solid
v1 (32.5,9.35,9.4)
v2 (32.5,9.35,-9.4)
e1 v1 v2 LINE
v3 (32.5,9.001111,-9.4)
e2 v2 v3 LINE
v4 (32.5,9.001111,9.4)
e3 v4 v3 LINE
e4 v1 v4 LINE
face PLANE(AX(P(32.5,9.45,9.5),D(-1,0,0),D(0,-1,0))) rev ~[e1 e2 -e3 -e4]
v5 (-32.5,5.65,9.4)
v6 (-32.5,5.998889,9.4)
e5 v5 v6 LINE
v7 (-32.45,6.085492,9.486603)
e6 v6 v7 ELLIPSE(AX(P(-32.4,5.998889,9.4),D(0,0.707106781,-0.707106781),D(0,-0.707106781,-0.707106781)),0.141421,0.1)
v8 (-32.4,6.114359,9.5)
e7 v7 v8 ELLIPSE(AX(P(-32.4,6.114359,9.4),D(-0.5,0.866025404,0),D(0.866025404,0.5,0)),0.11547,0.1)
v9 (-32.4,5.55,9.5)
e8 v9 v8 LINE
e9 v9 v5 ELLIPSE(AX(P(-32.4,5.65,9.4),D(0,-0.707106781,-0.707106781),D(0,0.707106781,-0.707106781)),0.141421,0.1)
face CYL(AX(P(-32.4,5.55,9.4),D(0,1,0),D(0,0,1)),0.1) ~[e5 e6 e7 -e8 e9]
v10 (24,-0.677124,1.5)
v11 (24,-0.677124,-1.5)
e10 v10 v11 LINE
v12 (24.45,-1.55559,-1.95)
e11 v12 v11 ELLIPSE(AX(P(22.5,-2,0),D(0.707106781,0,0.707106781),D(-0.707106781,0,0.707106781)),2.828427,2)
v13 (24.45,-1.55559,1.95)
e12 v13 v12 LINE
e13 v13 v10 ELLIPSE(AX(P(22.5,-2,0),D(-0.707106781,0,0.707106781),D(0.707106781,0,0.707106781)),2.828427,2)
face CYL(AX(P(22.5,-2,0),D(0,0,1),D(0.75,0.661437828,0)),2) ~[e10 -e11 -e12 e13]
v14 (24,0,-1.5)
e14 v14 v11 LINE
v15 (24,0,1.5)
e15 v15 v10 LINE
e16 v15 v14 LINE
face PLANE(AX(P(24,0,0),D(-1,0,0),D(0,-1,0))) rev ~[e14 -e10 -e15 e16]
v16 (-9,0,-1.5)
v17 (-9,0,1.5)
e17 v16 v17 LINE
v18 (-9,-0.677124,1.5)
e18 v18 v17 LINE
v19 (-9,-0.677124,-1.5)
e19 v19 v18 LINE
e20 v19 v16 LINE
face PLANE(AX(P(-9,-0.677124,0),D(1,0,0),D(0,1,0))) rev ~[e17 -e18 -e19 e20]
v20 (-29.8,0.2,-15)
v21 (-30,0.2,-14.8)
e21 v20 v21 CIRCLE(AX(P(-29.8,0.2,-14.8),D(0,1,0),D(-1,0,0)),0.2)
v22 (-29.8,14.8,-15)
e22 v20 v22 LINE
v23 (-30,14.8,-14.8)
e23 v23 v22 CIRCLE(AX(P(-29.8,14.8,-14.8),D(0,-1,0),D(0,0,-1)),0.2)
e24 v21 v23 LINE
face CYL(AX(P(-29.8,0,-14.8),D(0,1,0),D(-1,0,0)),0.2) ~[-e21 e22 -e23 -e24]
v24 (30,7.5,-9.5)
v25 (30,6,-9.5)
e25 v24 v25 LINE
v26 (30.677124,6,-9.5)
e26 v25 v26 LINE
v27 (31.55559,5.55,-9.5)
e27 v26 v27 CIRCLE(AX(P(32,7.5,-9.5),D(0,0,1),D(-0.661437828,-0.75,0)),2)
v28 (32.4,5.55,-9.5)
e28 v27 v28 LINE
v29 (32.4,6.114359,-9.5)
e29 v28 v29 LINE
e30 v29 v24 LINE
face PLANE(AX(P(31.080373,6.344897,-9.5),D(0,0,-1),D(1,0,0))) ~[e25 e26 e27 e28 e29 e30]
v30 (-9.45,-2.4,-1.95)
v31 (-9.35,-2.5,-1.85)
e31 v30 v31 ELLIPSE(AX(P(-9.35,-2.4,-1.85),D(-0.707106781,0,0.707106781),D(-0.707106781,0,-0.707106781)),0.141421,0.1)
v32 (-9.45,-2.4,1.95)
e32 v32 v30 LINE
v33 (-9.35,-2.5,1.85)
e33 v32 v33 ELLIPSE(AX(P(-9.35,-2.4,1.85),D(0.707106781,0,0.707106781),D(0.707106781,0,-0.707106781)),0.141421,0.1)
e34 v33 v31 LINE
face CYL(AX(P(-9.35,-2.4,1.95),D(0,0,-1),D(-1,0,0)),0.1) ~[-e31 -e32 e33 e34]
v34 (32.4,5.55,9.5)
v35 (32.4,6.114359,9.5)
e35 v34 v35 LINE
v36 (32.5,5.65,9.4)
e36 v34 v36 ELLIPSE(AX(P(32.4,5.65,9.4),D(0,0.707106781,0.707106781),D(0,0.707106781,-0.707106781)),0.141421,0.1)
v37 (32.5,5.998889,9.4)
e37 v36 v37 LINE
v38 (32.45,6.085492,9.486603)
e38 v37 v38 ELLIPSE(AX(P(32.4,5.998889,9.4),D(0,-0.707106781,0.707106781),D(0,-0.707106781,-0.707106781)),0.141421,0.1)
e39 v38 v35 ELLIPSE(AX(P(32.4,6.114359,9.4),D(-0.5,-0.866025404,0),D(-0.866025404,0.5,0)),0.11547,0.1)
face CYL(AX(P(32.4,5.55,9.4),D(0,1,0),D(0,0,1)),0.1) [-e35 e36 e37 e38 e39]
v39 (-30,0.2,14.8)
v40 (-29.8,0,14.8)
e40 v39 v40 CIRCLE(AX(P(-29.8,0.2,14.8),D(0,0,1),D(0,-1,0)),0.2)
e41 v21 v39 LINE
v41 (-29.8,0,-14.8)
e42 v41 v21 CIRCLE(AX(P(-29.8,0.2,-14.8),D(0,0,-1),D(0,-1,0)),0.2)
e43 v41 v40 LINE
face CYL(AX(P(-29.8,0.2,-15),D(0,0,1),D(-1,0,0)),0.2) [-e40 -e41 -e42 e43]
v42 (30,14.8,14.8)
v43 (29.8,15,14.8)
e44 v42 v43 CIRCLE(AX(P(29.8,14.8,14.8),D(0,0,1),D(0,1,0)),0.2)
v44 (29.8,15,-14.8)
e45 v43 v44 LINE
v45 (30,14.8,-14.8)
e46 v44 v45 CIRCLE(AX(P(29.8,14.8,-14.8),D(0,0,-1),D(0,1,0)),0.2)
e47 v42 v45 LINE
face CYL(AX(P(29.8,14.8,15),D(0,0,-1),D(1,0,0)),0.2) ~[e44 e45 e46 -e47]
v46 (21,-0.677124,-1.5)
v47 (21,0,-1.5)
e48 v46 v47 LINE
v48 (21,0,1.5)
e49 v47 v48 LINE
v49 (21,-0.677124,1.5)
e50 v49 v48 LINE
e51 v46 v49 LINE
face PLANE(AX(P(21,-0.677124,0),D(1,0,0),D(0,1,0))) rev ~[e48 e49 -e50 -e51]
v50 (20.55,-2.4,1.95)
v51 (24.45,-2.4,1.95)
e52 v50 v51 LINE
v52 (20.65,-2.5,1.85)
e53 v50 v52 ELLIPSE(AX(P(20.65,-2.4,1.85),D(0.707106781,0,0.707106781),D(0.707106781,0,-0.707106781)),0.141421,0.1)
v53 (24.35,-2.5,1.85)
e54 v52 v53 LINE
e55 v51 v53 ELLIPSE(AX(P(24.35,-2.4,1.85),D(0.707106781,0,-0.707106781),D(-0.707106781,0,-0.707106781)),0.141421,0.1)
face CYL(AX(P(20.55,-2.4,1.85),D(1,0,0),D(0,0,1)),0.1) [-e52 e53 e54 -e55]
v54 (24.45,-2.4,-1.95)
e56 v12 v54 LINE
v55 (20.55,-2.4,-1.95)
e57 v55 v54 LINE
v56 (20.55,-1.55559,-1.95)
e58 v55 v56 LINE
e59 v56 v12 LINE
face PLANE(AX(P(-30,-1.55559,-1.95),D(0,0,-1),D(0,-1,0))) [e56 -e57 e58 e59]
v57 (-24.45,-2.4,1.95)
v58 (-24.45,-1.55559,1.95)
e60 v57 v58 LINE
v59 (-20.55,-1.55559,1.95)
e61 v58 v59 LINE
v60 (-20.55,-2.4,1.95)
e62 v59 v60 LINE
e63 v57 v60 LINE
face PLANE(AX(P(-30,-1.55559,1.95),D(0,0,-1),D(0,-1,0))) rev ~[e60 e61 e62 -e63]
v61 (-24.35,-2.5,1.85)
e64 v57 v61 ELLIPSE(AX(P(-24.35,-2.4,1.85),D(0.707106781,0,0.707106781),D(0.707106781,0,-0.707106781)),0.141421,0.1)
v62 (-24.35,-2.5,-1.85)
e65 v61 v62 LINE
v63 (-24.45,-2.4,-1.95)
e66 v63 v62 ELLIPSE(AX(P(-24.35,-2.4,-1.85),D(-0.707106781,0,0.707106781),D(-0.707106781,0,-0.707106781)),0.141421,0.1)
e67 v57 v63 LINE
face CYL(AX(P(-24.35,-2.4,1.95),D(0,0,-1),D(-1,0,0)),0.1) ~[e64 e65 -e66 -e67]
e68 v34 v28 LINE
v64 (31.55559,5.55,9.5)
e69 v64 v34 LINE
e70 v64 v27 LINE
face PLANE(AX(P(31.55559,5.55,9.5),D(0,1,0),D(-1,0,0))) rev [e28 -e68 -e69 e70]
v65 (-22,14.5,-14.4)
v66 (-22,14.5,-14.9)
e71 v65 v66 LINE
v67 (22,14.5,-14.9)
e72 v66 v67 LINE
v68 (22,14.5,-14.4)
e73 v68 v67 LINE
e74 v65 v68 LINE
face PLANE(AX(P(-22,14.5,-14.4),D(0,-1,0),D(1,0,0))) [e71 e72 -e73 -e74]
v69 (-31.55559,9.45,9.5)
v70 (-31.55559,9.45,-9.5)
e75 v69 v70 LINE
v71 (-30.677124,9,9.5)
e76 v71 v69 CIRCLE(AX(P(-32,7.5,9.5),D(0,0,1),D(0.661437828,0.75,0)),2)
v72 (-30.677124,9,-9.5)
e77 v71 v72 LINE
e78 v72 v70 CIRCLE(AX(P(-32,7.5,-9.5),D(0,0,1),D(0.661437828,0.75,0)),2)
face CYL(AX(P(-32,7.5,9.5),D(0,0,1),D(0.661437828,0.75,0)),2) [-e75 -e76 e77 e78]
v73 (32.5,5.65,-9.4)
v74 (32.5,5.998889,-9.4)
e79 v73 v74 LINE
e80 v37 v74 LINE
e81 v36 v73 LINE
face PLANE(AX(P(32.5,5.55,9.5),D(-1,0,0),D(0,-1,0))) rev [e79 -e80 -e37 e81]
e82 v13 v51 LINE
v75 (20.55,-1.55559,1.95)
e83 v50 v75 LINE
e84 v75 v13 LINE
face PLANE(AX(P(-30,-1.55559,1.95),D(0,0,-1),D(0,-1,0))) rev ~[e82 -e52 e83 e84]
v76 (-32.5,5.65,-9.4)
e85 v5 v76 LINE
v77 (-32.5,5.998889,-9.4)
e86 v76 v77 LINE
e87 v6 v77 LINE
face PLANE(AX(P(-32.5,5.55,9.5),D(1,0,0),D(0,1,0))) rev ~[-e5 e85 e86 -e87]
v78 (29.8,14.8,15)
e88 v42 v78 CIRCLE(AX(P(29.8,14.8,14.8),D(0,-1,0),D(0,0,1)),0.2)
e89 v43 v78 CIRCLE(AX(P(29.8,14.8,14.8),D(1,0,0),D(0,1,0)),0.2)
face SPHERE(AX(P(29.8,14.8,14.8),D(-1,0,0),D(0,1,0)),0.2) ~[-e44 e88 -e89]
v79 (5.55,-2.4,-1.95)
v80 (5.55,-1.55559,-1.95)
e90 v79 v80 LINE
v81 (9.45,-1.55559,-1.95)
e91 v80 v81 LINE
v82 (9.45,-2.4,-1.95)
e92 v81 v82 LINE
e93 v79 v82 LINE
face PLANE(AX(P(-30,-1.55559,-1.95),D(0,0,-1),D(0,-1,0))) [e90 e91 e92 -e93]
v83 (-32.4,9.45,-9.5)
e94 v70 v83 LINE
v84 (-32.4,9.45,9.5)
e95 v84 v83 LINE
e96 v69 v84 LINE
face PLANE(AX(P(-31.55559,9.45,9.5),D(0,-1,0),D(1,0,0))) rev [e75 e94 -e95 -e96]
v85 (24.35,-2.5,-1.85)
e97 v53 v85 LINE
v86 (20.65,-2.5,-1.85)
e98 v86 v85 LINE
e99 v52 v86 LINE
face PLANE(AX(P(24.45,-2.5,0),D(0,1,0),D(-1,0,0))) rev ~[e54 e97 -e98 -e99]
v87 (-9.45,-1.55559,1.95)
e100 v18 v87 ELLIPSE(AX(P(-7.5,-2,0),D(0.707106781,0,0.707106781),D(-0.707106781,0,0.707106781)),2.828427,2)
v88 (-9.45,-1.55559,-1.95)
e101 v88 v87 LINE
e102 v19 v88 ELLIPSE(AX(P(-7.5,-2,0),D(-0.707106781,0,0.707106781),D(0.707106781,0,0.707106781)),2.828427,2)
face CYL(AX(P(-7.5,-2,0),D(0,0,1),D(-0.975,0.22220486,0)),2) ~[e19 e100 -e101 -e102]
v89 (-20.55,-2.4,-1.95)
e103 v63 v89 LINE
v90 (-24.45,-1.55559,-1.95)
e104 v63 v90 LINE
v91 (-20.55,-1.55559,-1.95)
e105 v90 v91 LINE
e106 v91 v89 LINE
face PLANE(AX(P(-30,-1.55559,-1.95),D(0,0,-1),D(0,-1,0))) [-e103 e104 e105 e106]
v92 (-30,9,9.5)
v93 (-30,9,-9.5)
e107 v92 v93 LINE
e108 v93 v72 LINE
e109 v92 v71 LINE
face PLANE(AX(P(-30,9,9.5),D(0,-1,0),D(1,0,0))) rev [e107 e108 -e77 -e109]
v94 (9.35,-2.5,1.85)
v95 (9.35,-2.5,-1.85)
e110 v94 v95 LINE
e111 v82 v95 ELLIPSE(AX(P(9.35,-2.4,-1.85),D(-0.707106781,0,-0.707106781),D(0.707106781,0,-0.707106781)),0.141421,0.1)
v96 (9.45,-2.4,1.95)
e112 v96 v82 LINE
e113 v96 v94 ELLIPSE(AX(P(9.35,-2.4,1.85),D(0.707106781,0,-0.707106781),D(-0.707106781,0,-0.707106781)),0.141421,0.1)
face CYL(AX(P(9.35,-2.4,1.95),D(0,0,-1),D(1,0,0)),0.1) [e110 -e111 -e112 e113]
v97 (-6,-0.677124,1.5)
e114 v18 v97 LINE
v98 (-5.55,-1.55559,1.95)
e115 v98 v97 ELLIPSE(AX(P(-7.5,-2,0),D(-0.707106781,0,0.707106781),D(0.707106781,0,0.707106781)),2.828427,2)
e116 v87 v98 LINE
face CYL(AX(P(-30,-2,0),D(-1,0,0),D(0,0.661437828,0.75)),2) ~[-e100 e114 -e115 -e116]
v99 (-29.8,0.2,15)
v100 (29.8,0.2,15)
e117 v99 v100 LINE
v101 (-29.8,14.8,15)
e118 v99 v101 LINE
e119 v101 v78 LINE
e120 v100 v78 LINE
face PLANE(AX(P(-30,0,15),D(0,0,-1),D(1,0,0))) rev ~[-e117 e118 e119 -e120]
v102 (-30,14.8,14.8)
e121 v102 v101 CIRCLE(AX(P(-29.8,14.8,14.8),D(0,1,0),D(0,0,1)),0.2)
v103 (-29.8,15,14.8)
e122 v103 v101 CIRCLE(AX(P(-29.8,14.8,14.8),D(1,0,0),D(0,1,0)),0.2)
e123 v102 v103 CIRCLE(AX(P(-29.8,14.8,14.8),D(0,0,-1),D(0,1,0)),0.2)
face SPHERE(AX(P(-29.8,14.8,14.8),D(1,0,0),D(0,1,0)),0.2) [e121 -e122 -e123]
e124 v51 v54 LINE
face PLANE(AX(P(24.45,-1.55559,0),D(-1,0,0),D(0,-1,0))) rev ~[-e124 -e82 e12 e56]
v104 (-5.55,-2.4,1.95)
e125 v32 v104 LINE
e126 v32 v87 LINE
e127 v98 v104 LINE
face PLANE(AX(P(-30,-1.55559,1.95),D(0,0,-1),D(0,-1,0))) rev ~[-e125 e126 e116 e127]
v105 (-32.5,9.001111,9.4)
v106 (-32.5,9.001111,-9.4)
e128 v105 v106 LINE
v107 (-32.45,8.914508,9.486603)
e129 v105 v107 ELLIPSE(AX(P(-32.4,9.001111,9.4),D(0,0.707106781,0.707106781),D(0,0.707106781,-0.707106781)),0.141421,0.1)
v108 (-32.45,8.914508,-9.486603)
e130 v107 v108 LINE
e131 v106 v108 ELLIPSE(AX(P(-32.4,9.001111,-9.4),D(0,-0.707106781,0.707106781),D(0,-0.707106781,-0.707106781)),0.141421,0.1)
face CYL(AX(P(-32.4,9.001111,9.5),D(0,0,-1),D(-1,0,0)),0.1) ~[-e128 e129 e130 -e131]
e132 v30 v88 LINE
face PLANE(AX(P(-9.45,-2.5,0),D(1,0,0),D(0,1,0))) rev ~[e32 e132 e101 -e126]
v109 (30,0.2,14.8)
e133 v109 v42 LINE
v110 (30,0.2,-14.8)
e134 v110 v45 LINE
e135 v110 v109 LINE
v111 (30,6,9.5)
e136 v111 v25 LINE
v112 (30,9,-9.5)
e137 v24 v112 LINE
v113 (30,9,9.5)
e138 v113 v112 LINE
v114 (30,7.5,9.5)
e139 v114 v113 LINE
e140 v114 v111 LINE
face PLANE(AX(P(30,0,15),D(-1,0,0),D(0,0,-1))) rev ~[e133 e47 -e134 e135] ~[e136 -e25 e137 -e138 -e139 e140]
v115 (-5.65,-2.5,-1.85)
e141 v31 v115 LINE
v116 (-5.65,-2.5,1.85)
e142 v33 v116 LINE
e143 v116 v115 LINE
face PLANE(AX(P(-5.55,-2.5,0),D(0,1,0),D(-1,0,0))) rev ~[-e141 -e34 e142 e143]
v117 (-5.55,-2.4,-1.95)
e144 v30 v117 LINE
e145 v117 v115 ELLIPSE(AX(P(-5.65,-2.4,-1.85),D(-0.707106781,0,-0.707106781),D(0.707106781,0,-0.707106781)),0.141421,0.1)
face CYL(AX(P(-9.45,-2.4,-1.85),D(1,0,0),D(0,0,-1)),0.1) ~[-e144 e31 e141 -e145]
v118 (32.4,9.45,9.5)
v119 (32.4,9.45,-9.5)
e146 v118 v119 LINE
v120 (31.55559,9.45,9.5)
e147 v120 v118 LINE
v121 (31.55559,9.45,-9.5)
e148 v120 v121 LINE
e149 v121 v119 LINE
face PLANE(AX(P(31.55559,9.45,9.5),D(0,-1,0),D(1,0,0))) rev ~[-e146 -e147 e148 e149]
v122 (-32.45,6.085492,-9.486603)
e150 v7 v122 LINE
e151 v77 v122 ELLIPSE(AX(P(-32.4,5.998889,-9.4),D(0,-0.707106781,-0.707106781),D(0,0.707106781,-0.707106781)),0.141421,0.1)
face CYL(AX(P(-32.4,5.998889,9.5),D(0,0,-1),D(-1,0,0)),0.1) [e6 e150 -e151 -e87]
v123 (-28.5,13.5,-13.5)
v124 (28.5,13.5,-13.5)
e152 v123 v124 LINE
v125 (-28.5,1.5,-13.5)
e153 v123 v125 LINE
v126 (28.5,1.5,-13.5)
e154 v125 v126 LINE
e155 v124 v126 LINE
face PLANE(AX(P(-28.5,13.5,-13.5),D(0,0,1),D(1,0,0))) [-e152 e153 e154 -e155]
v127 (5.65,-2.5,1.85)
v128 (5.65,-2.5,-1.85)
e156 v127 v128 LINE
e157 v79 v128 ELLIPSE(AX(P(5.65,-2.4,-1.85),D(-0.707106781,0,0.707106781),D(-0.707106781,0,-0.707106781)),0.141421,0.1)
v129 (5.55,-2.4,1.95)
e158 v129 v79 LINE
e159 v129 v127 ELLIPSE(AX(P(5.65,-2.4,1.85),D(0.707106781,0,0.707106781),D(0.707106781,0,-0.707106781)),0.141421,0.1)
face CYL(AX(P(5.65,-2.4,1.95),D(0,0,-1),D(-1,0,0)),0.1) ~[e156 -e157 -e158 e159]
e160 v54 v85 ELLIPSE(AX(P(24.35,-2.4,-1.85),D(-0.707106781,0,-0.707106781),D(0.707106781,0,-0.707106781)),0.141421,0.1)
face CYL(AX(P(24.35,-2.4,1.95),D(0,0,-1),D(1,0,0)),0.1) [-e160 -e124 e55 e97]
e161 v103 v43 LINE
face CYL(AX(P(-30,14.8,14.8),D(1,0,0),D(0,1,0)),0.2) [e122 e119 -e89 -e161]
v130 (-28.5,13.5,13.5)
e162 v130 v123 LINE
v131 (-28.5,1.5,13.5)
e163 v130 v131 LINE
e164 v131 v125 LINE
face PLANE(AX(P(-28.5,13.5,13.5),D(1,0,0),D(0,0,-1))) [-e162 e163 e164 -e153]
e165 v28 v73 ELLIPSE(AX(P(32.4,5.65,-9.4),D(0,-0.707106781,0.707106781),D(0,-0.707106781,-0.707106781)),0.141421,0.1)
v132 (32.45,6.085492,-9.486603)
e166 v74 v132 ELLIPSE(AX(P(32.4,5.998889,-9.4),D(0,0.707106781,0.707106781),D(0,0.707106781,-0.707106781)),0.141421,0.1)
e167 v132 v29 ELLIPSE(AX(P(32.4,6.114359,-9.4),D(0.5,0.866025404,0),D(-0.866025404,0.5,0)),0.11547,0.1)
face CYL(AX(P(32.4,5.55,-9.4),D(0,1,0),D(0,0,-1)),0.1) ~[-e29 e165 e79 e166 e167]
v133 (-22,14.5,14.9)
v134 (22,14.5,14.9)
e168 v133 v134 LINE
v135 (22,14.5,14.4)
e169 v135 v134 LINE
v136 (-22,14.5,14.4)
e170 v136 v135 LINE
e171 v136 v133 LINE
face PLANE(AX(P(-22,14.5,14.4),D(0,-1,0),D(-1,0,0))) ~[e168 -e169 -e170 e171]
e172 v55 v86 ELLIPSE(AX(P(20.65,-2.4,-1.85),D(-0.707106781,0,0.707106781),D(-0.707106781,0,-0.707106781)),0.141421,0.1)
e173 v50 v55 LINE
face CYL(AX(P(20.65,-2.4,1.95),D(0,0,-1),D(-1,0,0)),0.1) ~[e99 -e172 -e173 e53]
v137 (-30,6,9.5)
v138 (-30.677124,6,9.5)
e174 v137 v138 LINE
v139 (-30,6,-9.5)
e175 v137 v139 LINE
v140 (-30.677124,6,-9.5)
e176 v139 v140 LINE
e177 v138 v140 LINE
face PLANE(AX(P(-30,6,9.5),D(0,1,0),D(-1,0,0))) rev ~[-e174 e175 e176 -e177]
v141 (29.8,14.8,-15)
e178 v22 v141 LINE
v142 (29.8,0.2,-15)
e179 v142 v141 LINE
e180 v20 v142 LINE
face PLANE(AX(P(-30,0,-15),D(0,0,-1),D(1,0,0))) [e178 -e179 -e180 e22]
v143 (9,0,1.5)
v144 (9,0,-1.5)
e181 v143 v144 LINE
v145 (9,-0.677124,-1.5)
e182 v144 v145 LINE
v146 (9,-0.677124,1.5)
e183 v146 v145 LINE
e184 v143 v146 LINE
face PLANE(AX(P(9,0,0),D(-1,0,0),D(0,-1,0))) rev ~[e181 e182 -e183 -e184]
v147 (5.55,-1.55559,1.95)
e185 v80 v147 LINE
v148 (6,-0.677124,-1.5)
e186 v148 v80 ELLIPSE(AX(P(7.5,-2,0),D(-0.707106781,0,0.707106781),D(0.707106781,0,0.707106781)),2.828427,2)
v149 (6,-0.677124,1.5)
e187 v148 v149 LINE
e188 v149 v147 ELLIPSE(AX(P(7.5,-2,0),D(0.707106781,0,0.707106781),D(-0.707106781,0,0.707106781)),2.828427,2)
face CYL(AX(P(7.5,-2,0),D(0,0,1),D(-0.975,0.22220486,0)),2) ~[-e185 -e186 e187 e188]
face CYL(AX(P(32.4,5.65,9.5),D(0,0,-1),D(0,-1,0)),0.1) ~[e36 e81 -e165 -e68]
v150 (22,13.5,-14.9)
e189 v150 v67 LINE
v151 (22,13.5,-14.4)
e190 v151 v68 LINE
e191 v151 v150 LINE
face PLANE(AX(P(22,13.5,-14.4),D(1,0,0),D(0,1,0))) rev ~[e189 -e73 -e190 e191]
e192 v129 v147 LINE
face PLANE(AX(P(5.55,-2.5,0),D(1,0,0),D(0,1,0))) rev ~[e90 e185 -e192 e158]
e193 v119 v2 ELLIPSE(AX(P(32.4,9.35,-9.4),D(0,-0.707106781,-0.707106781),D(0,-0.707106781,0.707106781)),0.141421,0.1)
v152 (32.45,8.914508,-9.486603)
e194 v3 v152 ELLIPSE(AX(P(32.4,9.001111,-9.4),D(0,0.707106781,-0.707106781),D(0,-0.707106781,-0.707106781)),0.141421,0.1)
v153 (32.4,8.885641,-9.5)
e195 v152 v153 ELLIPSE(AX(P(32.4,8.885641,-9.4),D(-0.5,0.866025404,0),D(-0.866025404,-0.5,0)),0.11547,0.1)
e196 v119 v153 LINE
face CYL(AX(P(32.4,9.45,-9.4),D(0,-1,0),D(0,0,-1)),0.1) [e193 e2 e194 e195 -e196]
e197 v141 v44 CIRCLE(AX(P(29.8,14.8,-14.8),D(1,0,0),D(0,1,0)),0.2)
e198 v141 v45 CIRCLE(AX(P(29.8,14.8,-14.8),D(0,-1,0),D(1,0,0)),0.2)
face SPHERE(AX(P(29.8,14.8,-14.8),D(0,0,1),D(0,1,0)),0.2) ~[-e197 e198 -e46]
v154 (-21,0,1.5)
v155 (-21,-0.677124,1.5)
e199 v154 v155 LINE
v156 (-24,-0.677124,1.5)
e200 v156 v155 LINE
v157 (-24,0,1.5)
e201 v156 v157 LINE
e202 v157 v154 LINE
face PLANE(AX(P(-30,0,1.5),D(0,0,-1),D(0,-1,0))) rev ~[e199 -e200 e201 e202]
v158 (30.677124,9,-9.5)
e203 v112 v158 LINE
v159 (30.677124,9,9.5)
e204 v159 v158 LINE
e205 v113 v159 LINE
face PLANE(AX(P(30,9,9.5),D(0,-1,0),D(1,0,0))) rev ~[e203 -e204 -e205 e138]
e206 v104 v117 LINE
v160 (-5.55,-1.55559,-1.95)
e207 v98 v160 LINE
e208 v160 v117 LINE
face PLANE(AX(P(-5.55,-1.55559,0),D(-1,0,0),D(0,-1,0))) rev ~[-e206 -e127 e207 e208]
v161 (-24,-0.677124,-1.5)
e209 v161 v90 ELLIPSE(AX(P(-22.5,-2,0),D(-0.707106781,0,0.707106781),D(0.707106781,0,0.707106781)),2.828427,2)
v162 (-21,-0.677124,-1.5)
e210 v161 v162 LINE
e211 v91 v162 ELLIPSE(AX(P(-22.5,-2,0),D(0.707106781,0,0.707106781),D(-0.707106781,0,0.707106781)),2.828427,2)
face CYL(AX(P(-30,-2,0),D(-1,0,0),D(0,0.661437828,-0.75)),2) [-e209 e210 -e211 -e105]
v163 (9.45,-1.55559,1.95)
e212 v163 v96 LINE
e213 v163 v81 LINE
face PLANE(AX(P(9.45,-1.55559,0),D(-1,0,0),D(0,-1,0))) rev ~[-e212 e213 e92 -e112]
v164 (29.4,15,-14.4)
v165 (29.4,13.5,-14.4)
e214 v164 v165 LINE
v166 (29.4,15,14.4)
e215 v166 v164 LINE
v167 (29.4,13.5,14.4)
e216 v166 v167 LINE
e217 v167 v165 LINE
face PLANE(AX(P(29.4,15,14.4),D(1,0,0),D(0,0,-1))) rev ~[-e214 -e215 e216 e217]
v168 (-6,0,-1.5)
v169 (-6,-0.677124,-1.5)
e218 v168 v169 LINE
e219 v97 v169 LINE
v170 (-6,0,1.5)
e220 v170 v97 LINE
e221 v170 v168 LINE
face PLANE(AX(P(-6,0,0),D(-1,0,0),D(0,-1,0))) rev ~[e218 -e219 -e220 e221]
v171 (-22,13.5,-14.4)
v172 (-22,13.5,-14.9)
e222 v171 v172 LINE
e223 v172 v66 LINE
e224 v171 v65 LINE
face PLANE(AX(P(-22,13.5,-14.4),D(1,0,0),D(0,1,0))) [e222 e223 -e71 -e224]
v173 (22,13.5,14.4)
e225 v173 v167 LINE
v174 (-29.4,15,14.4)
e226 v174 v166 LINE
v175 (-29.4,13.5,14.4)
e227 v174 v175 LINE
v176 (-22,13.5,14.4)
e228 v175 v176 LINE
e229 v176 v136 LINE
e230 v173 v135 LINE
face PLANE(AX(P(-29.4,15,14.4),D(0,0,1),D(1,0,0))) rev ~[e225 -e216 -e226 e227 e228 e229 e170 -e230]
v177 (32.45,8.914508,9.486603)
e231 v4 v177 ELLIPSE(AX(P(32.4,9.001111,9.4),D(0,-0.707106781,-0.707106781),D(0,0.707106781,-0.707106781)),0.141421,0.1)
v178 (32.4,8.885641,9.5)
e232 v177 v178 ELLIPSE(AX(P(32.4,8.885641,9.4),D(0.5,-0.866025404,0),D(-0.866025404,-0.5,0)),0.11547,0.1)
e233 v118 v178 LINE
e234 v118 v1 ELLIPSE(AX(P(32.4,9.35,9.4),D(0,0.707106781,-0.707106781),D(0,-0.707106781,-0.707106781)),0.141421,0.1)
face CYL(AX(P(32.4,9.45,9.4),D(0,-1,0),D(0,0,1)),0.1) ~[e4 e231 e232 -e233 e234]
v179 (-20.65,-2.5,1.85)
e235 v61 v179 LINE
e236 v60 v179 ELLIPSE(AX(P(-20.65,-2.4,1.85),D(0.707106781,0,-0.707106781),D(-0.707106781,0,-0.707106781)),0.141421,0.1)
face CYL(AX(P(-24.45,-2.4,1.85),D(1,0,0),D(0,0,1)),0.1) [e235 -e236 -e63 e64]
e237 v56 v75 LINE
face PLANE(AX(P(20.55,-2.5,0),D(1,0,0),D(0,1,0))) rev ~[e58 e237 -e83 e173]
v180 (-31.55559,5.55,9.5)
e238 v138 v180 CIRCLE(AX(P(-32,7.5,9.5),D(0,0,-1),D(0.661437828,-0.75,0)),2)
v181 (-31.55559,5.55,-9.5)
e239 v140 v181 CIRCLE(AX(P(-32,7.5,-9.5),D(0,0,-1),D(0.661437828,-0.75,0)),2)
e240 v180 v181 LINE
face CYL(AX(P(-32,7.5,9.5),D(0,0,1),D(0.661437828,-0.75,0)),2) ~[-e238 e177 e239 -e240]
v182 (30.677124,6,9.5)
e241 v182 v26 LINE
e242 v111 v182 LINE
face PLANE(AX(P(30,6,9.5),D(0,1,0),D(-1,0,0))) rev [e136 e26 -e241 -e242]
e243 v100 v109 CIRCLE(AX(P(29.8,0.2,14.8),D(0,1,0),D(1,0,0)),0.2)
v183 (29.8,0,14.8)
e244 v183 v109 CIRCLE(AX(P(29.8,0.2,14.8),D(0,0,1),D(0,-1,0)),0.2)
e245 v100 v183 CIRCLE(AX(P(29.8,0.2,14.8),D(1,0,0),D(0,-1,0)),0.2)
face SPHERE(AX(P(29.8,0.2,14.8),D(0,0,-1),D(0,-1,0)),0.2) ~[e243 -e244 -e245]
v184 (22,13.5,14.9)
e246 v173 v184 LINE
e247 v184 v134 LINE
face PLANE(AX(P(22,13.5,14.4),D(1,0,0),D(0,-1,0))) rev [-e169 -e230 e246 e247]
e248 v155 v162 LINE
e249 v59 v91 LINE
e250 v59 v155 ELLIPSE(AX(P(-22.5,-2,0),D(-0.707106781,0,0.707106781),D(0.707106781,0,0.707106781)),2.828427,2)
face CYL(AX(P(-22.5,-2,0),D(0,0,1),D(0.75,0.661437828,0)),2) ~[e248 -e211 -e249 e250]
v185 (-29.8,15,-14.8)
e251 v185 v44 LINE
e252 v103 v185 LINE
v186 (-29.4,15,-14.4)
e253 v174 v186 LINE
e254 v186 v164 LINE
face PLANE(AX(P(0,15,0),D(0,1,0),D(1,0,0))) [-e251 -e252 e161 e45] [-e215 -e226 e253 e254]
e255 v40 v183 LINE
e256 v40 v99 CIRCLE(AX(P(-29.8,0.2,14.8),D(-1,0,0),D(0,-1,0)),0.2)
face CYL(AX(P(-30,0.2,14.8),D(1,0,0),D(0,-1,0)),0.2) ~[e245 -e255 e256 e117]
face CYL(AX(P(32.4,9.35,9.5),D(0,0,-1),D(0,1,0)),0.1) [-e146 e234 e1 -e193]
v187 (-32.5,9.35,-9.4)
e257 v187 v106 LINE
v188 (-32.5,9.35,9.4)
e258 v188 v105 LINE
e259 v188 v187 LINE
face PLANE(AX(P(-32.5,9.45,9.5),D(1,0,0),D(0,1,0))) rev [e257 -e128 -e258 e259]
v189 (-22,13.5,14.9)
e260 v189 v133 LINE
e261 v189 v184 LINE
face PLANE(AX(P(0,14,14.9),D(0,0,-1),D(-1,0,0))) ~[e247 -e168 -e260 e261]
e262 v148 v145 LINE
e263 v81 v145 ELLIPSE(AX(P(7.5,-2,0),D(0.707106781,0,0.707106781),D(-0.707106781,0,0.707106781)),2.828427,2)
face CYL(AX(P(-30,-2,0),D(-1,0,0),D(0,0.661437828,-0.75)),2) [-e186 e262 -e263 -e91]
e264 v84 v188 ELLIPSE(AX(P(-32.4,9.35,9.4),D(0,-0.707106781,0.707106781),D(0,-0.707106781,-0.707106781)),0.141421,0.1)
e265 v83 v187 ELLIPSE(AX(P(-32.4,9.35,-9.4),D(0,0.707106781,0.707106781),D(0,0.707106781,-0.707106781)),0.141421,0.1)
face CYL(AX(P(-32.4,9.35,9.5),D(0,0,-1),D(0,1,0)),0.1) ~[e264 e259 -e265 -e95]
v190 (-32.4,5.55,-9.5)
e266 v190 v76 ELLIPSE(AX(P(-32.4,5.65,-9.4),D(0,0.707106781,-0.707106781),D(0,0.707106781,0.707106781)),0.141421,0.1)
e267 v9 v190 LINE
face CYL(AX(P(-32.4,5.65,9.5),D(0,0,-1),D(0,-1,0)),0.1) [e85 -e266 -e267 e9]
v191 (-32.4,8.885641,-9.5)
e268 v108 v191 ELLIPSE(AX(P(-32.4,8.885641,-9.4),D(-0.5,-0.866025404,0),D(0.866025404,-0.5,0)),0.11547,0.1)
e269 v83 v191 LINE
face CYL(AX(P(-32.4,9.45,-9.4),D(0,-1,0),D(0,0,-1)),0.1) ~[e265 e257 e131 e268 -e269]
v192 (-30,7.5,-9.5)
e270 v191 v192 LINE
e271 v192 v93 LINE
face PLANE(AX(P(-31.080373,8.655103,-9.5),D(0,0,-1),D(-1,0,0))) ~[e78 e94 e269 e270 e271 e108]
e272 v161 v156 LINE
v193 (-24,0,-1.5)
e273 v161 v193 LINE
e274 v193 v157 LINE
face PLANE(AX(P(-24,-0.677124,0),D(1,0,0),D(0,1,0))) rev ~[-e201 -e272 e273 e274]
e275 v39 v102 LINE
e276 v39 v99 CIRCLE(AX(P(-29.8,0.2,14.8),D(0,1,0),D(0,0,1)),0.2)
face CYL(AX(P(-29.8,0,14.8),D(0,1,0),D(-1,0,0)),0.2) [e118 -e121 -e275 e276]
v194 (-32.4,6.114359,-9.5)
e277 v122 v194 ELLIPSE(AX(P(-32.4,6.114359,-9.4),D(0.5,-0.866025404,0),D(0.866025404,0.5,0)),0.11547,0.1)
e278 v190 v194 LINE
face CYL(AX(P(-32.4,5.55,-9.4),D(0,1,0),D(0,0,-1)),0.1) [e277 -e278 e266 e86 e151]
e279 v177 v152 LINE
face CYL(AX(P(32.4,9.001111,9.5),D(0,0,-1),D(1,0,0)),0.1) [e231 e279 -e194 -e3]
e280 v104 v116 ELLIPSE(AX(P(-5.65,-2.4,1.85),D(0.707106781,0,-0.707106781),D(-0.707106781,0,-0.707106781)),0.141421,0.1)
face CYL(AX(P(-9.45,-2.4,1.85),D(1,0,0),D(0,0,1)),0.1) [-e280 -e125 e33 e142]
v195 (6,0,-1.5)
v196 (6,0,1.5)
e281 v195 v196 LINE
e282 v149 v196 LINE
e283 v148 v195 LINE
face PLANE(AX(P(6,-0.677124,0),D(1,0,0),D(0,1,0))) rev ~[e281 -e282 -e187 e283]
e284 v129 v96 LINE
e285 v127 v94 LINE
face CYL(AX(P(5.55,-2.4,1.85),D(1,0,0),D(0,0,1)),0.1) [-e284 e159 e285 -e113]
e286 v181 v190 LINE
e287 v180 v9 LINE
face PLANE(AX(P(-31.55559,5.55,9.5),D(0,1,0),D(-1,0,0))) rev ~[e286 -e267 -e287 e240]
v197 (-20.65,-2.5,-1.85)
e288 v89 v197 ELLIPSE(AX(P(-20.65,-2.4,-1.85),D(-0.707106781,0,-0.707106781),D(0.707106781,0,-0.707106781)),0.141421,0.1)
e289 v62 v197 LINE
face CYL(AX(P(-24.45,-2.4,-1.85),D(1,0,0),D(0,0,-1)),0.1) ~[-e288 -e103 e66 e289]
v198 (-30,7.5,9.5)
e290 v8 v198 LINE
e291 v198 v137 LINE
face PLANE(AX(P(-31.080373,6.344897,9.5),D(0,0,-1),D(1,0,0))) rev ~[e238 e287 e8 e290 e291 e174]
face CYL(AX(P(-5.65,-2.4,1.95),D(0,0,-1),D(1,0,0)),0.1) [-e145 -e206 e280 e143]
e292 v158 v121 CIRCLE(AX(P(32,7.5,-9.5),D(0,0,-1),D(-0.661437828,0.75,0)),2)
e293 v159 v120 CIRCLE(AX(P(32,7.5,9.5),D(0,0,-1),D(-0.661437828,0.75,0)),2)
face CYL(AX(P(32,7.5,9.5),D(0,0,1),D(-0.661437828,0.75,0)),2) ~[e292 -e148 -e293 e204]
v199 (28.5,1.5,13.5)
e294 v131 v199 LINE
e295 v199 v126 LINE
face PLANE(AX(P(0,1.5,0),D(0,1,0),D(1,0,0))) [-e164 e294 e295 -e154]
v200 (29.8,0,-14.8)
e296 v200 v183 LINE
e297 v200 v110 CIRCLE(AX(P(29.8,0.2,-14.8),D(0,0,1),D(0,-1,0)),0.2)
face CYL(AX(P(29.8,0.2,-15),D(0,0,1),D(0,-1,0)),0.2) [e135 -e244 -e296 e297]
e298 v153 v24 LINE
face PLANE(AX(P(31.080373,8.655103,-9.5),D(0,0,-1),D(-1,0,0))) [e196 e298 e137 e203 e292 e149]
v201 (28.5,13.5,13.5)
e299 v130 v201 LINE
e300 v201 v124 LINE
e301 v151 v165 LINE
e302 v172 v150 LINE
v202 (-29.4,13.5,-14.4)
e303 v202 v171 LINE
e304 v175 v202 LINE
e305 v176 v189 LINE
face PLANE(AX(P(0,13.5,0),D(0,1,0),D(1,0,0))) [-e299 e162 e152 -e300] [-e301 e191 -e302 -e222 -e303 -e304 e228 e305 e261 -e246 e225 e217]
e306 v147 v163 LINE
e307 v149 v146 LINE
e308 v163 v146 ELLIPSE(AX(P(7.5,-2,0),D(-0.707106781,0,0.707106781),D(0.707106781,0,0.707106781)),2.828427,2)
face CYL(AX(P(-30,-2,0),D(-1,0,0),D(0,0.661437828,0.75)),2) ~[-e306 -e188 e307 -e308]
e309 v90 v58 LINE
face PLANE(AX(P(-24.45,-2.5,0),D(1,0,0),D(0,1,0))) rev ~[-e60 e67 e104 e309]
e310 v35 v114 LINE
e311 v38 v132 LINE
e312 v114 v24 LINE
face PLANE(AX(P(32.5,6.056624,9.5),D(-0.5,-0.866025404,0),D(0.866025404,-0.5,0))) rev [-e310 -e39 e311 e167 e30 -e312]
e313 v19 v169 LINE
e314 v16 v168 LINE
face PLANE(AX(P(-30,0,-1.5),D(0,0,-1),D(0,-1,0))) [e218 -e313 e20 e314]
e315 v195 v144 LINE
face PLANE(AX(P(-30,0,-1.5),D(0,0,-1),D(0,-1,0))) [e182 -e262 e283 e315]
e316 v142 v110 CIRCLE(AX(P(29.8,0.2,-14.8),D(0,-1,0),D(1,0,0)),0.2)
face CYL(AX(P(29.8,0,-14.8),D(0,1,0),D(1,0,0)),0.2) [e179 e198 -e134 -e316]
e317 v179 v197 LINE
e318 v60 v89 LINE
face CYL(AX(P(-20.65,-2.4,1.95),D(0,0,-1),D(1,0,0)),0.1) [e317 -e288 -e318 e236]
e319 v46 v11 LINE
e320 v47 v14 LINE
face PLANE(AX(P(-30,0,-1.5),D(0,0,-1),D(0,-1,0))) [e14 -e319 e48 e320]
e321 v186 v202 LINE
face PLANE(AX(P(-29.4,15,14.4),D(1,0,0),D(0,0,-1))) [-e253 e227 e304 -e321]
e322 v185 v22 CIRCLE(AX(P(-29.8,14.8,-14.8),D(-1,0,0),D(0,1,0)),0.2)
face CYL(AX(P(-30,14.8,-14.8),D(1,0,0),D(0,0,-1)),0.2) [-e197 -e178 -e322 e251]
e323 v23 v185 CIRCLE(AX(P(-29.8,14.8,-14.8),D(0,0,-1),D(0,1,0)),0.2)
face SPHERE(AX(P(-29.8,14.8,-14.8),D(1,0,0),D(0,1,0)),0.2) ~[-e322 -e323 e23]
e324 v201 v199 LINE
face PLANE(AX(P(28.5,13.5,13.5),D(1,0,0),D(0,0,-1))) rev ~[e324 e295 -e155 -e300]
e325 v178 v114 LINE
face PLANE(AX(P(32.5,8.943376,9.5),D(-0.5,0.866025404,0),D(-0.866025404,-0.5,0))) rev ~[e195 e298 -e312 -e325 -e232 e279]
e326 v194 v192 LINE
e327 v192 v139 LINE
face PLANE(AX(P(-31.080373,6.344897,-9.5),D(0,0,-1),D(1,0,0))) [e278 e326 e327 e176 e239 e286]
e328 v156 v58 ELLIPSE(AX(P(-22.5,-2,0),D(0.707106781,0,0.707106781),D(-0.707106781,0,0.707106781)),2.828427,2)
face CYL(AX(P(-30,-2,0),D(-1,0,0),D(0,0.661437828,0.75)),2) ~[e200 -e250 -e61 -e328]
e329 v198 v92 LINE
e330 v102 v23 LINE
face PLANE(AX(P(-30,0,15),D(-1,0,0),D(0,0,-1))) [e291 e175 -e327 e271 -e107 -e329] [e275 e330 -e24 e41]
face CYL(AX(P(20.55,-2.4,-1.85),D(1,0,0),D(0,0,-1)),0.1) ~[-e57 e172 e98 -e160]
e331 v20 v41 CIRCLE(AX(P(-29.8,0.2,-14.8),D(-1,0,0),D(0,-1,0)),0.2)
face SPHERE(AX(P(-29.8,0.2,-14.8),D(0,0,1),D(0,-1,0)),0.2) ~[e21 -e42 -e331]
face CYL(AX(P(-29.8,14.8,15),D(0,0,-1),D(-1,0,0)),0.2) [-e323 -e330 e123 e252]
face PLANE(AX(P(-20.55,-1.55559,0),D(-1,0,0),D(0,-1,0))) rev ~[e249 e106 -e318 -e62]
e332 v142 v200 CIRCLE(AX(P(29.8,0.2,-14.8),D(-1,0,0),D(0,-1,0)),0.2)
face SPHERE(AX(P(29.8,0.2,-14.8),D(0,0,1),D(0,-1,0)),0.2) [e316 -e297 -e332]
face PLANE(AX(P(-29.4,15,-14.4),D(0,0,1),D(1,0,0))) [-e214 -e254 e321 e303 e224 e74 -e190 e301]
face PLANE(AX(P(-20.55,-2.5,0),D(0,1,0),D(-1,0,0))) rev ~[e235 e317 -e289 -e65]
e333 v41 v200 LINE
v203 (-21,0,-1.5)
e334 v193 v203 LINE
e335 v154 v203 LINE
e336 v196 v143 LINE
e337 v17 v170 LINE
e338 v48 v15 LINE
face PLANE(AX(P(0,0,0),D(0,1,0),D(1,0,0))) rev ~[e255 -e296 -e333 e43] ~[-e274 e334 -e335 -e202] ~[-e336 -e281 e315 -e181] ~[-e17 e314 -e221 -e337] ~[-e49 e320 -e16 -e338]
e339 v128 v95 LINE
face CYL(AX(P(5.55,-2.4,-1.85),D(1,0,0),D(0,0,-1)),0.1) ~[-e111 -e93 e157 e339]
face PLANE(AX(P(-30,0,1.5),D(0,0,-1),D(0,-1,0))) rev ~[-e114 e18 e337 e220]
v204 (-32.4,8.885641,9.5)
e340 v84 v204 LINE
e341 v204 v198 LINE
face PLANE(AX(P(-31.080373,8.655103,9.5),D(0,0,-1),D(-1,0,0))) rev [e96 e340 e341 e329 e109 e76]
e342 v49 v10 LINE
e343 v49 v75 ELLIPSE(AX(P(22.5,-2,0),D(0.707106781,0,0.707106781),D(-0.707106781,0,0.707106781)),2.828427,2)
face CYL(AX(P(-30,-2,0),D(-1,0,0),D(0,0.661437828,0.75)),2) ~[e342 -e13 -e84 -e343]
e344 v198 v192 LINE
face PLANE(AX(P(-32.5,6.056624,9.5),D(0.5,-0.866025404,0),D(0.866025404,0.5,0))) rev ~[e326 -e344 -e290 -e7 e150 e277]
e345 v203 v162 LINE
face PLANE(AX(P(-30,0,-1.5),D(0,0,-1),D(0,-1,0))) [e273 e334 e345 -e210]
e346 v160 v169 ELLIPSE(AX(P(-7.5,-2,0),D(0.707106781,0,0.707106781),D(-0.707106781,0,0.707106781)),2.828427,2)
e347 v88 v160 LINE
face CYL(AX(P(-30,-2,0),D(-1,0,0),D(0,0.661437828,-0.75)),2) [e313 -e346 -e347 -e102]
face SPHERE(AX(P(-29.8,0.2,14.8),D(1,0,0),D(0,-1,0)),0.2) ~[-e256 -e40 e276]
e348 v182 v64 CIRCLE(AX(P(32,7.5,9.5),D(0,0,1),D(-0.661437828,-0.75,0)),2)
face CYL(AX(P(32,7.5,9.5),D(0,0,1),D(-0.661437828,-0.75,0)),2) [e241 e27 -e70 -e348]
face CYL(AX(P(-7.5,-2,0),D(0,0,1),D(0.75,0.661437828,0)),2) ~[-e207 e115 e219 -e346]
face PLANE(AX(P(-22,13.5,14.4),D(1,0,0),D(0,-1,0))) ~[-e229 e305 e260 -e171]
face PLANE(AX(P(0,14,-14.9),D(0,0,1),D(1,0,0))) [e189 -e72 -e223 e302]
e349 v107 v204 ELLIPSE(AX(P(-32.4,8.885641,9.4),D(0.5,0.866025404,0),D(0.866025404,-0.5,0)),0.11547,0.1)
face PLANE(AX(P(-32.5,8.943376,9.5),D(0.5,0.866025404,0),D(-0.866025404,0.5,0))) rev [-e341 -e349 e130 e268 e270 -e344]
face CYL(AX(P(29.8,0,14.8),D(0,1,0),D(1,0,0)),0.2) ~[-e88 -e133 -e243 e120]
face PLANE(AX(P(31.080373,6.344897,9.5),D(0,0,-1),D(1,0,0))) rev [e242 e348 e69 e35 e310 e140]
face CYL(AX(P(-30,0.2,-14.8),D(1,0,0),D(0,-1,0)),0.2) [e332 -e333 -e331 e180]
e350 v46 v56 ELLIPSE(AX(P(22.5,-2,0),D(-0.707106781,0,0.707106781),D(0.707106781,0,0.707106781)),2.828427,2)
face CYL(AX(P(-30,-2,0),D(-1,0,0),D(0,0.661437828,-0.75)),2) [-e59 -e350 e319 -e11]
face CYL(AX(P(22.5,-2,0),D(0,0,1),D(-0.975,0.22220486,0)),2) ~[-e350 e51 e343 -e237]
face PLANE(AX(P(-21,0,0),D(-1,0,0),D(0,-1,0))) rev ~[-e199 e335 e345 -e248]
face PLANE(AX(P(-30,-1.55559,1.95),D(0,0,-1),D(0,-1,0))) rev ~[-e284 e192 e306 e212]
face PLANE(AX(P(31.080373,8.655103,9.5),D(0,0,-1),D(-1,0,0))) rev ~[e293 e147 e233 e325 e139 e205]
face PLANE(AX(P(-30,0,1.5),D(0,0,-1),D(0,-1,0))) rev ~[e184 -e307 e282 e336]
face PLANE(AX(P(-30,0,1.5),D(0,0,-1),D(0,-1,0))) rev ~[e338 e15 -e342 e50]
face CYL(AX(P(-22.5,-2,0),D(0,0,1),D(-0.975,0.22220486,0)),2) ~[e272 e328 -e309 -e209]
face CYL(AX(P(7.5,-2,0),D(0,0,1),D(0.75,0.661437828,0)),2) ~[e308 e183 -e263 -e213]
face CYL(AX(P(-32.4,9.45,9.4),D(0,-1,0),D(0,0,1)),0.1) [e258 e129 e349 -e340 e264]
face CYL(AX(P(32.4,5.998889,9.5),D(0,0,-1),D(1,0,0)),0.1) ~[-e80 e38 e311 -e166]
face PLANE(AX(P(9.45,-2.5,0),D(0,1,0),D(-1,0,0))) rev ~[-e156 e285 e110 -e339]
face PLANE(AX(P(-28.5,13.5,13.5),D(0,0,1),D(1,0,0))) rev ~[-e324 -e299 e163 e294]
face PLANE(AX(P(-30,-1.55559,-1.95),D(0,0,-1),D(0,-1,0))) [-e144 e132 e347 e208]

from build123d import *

# Parameters (mm, degrees)
SKETCH_1_W             = 60
SKETCH_1_H             = 30
EXTRUDE_1_DEPTH        = 15
SKETCH_2_W             = 58.8
SKETCH_2_H             = 28.8
CUT_EXTRUDE_2_DEPTH    = 1.5
SKETCH_4_W             = 57
SKETCH_4_H             = 27
CUT_EXTRUDE_3_DEPTH    = 12
SKETCH_5_W             = 44
SKETCH_5_H             = 1
CUT_EXTRUDE_4_DEPTH    = 0.5
EXTRUDE_START          = -5.5
EXTRUDE_4_DEPTH        = 19
MIRROR_START           = -5.5
MIRROR_3_COPY_1_DEPTH  = 19
EXTRUDE_5_DEPTH        = 2
PATTERN_LINEAR_1_COUNT = 4
PATTERN_LINEAR_1_PITCH = 15
CUT_EXTRUDE_5_DEPTH    = 67.001893912
FILLET_1_R             = 0.2
FILLET_2_R             = 0.1


with BuildPart() as part:
    # 草图1 → 凸台-拉伸1 (new body)
    with BuildSketch(Plane(origin=(0, 0, 0), x_dir=(1, 0, 0), z_dir=(0, 1, 0))):
        Rectangle(SKETCH_1_W, SKETCH_1_H)
    extrude(amount=EXTRUDE_1_DEPTH)

    # 草图2 → 切除-拉伸2 (cut)
    with BuildSketch(Plane(origin=(0, 15, 0), x_dir=(1, 0, 0), z_dir=(0, 1, 0))):
        Rectangle(SKETCH_2_W, SKETCH_2_H)
    extrude(amount=-CUT_EXTRUDE_2_DEPTH, mode=Mode.SUBTRACT)

    # 草图4 → 切除-拉伸3 (cut)
    with BuildSketch(Plane(origin=(0, 13.5, 0), x_dir=(1, 0, 0), z_dir=(0, 1, 0))):
        Rectangle(SKETCH_4_W, SKETCH_4_H)
    extrude(amount=-CUT_EXTRUDE_3_DEPTH, mode=Mode.SUBTRACT)

    # 草图5 → 切除-拉伸4 (cut)
    with BuildSketch(Plane.XY.offset(-14.4)):
        with Locations((0, 14)):
            Rectangle(SKETCH_5_W, SKETCH_5_H)
    cut_extrude_4 = extrude(amount=-CUT_EXTRUDE_4_DEPTH, mode=Mode.SUBTRACT)

    # 镜向1: 切除-拉伸4 across plane
    add(cut_extrude_4.mirror(Plane.XY), mode=Mode.SUBTRACT)

    # 草图6 → 凸台-拉伸4 (add)
    with BuildSketch(Plane.XY.offset(15).offset(EXTRUDE_START)):
        with BuildLine():
            Line((30, 7.5), (30, 9))
            Line((30, 9), (30.677124344, 9))
            ThreePointArc((30.677124344, 9), (31.088161527, 9.280042303), (31.555590279, 9.45))
            Line((31.555590279, 9.45), (32.5, 9.45))
            Line((32.5, 9.45), (32.5, 8.943375673))
            Line((32.5, 8.943375673), (30, 7.5))
        make_face()
    extrude_4 = extrude(amount=-EXTRUDE_4_DEPTH)

    # 镜向2: 凸台-拉伸4 across plane
    add(extrude_4.mirror(Plane(origin=(0, 7.5, 0), x_dir=(0, 0, 1), z_dir=(0, -1, 0))))

    # 镜向3: 凸台-拉伸4 across plane
    add(extrude_4.mirror(Plane(origin=(0, 0, 0), x_dir=(0, 0, 1), z_dir=(1, 0, 0))))

    # 镜向3 copy 1 sketch → 镜向3 copy 1 (add)
    with BuildSketch(Plane(origin=(0, 15, 15), x_dir=(-1, 0, 0), z_dir=(0, 0, 1)).offset(MIRROR_START)):
        with BuildLine():
            Line((30, 7.5), (30, 9))
            Line((30, 9), (30.677124344, 9))
            ThreePointArc((30.677124344, 9), (31.088161527, 9.280042303), (31.555590279, 9.45))
            Line((31.555590279, 9.45), (32.5, 9.45))
            Line((32.5, 9.45), (32.5, 8.943375673))
            Line((32.5, 8.943375673), (30, 7.5))
        make_face()
    extrude(amount=-MIRROR_3_COPY_1_DEPTH)

    # 草图7 → 凸台-拉伸5 (add, symmetric)
    with BuildSketch(Plane.XY):
        with BuildLine():
            Line((-24, 0), (-21, 0))
            Line((-21, 0), (-21, -0.677124344))
            ThreePointArc((-21, -0.677124344), (-20.719957697, -1.088161527), (-20.55, -1.555590279))
            Line((-20.55, -1.555590279), (-20.55, -2.5))
            Line((-20.55, -2.5), (-24.45, -2.5))
            Line((-24.45, -2.5), (-24.45, -1.555590279))
            ThreePointArc((-24.45, -1.555590279), (-24.280042303, -1.088161527), (-24, -0.677124344))
            Line((-24, -0.677124344), (-24, 0))
        make_face()
    extrude_5 = extrude(amount=EXTRUDE_5_DEPTH, both=True)

    # 阵列(线性)1: 凸台-拉伸5 ×4
    with Locations(*[(i * PATTERN_LINEAR_1_PITCH, 0, 0) for i in range(1, PATTERN_LINEAR_1_COUNT)]):
        add(extrude_5)

    # 草图8 → 切除-拉伸5 (cut, through all)
    with BuildSketch(Plane.ZY.offset(30)):
        with BuildLine():
            Line((1.5, 0), (1.5, -0.677124344))
            ThreePointArc((1.5, -0.677124344), (1.780042303, -1.088161527), (1.95, -1.555590279))
            Line((1.95, -1.555590279), (1.95, -2.5))
            Line((1.95, -2.5), (2, -2.5))
            Line((2, -2.5), (2, 0))
            Line((2, 0), (1.5, 0))
        make_face()
        with BuildLine():
            Line((-2, 0), (-1.5, 0))
            Line((-1.5, 0), (-1.5, -0.677124344))
            ThreePointArc((-1.5, -0.677124344), (-1.780042303, -1.088161527), (-1.95, -1.555590279))
            Line((-1.95, -1.555590279), (-1.95, -2.5))
            Line((-1.95, -2.5), (-2, -2.5))
            Line((-2, -2.5), (-2, 0))
        make_face()
    extrude(amount=-CUT_EXTRUDE_5_DEPTH, mode=Mode.SUBTRACT)

    # 圆角1
    fillet_1_edges = [part.edges().sort_by_distance(p)[0] for p in [
        (0, 15, 15),
        (30, 15, 0),
        (0, 15, -15),
        (30, 0, 0),
        (0, 0, 15),
        (-30, 0, 0),
        (0, 0, -15),
        (-30, 15, 0),
        (30, 7.5, -15),
        (30, 7.5, 15),
        (-30, 7.5, 15),
        (-30, 7.5, -15),
    ]]
    fillet(fillet_1_edges, radius=FILLET_1_R)

    # 圆角2
    fillet_2_edges = [part.edges().sort_by_distance(p)[0] for p in [
        (-32.5, 9.45, 0),
        (-32.5, 9.196687836, -9.5),
        (-32.5, 6.056624327, 0),
        (-32.5, 5.803312164, -9.5),
        (-32.5, 5.55, 0),
        (-32.5, 5.803312164, 9.5),
        (24.45, -2.5, 0),
        (20.55, -2.5, 0),
        (9.45, -2.5, 0),
        (5.55, -2.5, 0),
        (-5.55, -2.5, 0),
        (-9.45, -2.5, 0),
        (-20.55, -2.5, 0),
        (-24.45, -2.5, 0),
        (-22.5, -2.5, -1.95),
        (-7.5, -2.5, -1.95),
        (7.5, -2.5, -1.95),
        (22.5, -2.5, -1.95),
        (-22.5, -2.5, 1.95),
        (-7.5, -2.5, 1.95),
        (7.5, -2.5, 1.95),
        (22.5, -2.5, 1.95),
        (32.5, 8.943375673, 0),
        (32.5, 9.196687836, -9.5),
        (32.5, 9.45, 0),
        (32.5, 9.196687836, 9.5),
        (32.5, 5.803312164, 9.5),
        (32.5, 6.056624327, 0),
        (32.5, 5.55, 0),
        (32.5, 5.803312164, -9.5),
        (-32.5, 9.196687836, 9.5),
        (-32.5, 8.943375673, 0),
    ]]
    fillet(fillet_2_edges, radius=FILLET_2_R)


solid = part.part
